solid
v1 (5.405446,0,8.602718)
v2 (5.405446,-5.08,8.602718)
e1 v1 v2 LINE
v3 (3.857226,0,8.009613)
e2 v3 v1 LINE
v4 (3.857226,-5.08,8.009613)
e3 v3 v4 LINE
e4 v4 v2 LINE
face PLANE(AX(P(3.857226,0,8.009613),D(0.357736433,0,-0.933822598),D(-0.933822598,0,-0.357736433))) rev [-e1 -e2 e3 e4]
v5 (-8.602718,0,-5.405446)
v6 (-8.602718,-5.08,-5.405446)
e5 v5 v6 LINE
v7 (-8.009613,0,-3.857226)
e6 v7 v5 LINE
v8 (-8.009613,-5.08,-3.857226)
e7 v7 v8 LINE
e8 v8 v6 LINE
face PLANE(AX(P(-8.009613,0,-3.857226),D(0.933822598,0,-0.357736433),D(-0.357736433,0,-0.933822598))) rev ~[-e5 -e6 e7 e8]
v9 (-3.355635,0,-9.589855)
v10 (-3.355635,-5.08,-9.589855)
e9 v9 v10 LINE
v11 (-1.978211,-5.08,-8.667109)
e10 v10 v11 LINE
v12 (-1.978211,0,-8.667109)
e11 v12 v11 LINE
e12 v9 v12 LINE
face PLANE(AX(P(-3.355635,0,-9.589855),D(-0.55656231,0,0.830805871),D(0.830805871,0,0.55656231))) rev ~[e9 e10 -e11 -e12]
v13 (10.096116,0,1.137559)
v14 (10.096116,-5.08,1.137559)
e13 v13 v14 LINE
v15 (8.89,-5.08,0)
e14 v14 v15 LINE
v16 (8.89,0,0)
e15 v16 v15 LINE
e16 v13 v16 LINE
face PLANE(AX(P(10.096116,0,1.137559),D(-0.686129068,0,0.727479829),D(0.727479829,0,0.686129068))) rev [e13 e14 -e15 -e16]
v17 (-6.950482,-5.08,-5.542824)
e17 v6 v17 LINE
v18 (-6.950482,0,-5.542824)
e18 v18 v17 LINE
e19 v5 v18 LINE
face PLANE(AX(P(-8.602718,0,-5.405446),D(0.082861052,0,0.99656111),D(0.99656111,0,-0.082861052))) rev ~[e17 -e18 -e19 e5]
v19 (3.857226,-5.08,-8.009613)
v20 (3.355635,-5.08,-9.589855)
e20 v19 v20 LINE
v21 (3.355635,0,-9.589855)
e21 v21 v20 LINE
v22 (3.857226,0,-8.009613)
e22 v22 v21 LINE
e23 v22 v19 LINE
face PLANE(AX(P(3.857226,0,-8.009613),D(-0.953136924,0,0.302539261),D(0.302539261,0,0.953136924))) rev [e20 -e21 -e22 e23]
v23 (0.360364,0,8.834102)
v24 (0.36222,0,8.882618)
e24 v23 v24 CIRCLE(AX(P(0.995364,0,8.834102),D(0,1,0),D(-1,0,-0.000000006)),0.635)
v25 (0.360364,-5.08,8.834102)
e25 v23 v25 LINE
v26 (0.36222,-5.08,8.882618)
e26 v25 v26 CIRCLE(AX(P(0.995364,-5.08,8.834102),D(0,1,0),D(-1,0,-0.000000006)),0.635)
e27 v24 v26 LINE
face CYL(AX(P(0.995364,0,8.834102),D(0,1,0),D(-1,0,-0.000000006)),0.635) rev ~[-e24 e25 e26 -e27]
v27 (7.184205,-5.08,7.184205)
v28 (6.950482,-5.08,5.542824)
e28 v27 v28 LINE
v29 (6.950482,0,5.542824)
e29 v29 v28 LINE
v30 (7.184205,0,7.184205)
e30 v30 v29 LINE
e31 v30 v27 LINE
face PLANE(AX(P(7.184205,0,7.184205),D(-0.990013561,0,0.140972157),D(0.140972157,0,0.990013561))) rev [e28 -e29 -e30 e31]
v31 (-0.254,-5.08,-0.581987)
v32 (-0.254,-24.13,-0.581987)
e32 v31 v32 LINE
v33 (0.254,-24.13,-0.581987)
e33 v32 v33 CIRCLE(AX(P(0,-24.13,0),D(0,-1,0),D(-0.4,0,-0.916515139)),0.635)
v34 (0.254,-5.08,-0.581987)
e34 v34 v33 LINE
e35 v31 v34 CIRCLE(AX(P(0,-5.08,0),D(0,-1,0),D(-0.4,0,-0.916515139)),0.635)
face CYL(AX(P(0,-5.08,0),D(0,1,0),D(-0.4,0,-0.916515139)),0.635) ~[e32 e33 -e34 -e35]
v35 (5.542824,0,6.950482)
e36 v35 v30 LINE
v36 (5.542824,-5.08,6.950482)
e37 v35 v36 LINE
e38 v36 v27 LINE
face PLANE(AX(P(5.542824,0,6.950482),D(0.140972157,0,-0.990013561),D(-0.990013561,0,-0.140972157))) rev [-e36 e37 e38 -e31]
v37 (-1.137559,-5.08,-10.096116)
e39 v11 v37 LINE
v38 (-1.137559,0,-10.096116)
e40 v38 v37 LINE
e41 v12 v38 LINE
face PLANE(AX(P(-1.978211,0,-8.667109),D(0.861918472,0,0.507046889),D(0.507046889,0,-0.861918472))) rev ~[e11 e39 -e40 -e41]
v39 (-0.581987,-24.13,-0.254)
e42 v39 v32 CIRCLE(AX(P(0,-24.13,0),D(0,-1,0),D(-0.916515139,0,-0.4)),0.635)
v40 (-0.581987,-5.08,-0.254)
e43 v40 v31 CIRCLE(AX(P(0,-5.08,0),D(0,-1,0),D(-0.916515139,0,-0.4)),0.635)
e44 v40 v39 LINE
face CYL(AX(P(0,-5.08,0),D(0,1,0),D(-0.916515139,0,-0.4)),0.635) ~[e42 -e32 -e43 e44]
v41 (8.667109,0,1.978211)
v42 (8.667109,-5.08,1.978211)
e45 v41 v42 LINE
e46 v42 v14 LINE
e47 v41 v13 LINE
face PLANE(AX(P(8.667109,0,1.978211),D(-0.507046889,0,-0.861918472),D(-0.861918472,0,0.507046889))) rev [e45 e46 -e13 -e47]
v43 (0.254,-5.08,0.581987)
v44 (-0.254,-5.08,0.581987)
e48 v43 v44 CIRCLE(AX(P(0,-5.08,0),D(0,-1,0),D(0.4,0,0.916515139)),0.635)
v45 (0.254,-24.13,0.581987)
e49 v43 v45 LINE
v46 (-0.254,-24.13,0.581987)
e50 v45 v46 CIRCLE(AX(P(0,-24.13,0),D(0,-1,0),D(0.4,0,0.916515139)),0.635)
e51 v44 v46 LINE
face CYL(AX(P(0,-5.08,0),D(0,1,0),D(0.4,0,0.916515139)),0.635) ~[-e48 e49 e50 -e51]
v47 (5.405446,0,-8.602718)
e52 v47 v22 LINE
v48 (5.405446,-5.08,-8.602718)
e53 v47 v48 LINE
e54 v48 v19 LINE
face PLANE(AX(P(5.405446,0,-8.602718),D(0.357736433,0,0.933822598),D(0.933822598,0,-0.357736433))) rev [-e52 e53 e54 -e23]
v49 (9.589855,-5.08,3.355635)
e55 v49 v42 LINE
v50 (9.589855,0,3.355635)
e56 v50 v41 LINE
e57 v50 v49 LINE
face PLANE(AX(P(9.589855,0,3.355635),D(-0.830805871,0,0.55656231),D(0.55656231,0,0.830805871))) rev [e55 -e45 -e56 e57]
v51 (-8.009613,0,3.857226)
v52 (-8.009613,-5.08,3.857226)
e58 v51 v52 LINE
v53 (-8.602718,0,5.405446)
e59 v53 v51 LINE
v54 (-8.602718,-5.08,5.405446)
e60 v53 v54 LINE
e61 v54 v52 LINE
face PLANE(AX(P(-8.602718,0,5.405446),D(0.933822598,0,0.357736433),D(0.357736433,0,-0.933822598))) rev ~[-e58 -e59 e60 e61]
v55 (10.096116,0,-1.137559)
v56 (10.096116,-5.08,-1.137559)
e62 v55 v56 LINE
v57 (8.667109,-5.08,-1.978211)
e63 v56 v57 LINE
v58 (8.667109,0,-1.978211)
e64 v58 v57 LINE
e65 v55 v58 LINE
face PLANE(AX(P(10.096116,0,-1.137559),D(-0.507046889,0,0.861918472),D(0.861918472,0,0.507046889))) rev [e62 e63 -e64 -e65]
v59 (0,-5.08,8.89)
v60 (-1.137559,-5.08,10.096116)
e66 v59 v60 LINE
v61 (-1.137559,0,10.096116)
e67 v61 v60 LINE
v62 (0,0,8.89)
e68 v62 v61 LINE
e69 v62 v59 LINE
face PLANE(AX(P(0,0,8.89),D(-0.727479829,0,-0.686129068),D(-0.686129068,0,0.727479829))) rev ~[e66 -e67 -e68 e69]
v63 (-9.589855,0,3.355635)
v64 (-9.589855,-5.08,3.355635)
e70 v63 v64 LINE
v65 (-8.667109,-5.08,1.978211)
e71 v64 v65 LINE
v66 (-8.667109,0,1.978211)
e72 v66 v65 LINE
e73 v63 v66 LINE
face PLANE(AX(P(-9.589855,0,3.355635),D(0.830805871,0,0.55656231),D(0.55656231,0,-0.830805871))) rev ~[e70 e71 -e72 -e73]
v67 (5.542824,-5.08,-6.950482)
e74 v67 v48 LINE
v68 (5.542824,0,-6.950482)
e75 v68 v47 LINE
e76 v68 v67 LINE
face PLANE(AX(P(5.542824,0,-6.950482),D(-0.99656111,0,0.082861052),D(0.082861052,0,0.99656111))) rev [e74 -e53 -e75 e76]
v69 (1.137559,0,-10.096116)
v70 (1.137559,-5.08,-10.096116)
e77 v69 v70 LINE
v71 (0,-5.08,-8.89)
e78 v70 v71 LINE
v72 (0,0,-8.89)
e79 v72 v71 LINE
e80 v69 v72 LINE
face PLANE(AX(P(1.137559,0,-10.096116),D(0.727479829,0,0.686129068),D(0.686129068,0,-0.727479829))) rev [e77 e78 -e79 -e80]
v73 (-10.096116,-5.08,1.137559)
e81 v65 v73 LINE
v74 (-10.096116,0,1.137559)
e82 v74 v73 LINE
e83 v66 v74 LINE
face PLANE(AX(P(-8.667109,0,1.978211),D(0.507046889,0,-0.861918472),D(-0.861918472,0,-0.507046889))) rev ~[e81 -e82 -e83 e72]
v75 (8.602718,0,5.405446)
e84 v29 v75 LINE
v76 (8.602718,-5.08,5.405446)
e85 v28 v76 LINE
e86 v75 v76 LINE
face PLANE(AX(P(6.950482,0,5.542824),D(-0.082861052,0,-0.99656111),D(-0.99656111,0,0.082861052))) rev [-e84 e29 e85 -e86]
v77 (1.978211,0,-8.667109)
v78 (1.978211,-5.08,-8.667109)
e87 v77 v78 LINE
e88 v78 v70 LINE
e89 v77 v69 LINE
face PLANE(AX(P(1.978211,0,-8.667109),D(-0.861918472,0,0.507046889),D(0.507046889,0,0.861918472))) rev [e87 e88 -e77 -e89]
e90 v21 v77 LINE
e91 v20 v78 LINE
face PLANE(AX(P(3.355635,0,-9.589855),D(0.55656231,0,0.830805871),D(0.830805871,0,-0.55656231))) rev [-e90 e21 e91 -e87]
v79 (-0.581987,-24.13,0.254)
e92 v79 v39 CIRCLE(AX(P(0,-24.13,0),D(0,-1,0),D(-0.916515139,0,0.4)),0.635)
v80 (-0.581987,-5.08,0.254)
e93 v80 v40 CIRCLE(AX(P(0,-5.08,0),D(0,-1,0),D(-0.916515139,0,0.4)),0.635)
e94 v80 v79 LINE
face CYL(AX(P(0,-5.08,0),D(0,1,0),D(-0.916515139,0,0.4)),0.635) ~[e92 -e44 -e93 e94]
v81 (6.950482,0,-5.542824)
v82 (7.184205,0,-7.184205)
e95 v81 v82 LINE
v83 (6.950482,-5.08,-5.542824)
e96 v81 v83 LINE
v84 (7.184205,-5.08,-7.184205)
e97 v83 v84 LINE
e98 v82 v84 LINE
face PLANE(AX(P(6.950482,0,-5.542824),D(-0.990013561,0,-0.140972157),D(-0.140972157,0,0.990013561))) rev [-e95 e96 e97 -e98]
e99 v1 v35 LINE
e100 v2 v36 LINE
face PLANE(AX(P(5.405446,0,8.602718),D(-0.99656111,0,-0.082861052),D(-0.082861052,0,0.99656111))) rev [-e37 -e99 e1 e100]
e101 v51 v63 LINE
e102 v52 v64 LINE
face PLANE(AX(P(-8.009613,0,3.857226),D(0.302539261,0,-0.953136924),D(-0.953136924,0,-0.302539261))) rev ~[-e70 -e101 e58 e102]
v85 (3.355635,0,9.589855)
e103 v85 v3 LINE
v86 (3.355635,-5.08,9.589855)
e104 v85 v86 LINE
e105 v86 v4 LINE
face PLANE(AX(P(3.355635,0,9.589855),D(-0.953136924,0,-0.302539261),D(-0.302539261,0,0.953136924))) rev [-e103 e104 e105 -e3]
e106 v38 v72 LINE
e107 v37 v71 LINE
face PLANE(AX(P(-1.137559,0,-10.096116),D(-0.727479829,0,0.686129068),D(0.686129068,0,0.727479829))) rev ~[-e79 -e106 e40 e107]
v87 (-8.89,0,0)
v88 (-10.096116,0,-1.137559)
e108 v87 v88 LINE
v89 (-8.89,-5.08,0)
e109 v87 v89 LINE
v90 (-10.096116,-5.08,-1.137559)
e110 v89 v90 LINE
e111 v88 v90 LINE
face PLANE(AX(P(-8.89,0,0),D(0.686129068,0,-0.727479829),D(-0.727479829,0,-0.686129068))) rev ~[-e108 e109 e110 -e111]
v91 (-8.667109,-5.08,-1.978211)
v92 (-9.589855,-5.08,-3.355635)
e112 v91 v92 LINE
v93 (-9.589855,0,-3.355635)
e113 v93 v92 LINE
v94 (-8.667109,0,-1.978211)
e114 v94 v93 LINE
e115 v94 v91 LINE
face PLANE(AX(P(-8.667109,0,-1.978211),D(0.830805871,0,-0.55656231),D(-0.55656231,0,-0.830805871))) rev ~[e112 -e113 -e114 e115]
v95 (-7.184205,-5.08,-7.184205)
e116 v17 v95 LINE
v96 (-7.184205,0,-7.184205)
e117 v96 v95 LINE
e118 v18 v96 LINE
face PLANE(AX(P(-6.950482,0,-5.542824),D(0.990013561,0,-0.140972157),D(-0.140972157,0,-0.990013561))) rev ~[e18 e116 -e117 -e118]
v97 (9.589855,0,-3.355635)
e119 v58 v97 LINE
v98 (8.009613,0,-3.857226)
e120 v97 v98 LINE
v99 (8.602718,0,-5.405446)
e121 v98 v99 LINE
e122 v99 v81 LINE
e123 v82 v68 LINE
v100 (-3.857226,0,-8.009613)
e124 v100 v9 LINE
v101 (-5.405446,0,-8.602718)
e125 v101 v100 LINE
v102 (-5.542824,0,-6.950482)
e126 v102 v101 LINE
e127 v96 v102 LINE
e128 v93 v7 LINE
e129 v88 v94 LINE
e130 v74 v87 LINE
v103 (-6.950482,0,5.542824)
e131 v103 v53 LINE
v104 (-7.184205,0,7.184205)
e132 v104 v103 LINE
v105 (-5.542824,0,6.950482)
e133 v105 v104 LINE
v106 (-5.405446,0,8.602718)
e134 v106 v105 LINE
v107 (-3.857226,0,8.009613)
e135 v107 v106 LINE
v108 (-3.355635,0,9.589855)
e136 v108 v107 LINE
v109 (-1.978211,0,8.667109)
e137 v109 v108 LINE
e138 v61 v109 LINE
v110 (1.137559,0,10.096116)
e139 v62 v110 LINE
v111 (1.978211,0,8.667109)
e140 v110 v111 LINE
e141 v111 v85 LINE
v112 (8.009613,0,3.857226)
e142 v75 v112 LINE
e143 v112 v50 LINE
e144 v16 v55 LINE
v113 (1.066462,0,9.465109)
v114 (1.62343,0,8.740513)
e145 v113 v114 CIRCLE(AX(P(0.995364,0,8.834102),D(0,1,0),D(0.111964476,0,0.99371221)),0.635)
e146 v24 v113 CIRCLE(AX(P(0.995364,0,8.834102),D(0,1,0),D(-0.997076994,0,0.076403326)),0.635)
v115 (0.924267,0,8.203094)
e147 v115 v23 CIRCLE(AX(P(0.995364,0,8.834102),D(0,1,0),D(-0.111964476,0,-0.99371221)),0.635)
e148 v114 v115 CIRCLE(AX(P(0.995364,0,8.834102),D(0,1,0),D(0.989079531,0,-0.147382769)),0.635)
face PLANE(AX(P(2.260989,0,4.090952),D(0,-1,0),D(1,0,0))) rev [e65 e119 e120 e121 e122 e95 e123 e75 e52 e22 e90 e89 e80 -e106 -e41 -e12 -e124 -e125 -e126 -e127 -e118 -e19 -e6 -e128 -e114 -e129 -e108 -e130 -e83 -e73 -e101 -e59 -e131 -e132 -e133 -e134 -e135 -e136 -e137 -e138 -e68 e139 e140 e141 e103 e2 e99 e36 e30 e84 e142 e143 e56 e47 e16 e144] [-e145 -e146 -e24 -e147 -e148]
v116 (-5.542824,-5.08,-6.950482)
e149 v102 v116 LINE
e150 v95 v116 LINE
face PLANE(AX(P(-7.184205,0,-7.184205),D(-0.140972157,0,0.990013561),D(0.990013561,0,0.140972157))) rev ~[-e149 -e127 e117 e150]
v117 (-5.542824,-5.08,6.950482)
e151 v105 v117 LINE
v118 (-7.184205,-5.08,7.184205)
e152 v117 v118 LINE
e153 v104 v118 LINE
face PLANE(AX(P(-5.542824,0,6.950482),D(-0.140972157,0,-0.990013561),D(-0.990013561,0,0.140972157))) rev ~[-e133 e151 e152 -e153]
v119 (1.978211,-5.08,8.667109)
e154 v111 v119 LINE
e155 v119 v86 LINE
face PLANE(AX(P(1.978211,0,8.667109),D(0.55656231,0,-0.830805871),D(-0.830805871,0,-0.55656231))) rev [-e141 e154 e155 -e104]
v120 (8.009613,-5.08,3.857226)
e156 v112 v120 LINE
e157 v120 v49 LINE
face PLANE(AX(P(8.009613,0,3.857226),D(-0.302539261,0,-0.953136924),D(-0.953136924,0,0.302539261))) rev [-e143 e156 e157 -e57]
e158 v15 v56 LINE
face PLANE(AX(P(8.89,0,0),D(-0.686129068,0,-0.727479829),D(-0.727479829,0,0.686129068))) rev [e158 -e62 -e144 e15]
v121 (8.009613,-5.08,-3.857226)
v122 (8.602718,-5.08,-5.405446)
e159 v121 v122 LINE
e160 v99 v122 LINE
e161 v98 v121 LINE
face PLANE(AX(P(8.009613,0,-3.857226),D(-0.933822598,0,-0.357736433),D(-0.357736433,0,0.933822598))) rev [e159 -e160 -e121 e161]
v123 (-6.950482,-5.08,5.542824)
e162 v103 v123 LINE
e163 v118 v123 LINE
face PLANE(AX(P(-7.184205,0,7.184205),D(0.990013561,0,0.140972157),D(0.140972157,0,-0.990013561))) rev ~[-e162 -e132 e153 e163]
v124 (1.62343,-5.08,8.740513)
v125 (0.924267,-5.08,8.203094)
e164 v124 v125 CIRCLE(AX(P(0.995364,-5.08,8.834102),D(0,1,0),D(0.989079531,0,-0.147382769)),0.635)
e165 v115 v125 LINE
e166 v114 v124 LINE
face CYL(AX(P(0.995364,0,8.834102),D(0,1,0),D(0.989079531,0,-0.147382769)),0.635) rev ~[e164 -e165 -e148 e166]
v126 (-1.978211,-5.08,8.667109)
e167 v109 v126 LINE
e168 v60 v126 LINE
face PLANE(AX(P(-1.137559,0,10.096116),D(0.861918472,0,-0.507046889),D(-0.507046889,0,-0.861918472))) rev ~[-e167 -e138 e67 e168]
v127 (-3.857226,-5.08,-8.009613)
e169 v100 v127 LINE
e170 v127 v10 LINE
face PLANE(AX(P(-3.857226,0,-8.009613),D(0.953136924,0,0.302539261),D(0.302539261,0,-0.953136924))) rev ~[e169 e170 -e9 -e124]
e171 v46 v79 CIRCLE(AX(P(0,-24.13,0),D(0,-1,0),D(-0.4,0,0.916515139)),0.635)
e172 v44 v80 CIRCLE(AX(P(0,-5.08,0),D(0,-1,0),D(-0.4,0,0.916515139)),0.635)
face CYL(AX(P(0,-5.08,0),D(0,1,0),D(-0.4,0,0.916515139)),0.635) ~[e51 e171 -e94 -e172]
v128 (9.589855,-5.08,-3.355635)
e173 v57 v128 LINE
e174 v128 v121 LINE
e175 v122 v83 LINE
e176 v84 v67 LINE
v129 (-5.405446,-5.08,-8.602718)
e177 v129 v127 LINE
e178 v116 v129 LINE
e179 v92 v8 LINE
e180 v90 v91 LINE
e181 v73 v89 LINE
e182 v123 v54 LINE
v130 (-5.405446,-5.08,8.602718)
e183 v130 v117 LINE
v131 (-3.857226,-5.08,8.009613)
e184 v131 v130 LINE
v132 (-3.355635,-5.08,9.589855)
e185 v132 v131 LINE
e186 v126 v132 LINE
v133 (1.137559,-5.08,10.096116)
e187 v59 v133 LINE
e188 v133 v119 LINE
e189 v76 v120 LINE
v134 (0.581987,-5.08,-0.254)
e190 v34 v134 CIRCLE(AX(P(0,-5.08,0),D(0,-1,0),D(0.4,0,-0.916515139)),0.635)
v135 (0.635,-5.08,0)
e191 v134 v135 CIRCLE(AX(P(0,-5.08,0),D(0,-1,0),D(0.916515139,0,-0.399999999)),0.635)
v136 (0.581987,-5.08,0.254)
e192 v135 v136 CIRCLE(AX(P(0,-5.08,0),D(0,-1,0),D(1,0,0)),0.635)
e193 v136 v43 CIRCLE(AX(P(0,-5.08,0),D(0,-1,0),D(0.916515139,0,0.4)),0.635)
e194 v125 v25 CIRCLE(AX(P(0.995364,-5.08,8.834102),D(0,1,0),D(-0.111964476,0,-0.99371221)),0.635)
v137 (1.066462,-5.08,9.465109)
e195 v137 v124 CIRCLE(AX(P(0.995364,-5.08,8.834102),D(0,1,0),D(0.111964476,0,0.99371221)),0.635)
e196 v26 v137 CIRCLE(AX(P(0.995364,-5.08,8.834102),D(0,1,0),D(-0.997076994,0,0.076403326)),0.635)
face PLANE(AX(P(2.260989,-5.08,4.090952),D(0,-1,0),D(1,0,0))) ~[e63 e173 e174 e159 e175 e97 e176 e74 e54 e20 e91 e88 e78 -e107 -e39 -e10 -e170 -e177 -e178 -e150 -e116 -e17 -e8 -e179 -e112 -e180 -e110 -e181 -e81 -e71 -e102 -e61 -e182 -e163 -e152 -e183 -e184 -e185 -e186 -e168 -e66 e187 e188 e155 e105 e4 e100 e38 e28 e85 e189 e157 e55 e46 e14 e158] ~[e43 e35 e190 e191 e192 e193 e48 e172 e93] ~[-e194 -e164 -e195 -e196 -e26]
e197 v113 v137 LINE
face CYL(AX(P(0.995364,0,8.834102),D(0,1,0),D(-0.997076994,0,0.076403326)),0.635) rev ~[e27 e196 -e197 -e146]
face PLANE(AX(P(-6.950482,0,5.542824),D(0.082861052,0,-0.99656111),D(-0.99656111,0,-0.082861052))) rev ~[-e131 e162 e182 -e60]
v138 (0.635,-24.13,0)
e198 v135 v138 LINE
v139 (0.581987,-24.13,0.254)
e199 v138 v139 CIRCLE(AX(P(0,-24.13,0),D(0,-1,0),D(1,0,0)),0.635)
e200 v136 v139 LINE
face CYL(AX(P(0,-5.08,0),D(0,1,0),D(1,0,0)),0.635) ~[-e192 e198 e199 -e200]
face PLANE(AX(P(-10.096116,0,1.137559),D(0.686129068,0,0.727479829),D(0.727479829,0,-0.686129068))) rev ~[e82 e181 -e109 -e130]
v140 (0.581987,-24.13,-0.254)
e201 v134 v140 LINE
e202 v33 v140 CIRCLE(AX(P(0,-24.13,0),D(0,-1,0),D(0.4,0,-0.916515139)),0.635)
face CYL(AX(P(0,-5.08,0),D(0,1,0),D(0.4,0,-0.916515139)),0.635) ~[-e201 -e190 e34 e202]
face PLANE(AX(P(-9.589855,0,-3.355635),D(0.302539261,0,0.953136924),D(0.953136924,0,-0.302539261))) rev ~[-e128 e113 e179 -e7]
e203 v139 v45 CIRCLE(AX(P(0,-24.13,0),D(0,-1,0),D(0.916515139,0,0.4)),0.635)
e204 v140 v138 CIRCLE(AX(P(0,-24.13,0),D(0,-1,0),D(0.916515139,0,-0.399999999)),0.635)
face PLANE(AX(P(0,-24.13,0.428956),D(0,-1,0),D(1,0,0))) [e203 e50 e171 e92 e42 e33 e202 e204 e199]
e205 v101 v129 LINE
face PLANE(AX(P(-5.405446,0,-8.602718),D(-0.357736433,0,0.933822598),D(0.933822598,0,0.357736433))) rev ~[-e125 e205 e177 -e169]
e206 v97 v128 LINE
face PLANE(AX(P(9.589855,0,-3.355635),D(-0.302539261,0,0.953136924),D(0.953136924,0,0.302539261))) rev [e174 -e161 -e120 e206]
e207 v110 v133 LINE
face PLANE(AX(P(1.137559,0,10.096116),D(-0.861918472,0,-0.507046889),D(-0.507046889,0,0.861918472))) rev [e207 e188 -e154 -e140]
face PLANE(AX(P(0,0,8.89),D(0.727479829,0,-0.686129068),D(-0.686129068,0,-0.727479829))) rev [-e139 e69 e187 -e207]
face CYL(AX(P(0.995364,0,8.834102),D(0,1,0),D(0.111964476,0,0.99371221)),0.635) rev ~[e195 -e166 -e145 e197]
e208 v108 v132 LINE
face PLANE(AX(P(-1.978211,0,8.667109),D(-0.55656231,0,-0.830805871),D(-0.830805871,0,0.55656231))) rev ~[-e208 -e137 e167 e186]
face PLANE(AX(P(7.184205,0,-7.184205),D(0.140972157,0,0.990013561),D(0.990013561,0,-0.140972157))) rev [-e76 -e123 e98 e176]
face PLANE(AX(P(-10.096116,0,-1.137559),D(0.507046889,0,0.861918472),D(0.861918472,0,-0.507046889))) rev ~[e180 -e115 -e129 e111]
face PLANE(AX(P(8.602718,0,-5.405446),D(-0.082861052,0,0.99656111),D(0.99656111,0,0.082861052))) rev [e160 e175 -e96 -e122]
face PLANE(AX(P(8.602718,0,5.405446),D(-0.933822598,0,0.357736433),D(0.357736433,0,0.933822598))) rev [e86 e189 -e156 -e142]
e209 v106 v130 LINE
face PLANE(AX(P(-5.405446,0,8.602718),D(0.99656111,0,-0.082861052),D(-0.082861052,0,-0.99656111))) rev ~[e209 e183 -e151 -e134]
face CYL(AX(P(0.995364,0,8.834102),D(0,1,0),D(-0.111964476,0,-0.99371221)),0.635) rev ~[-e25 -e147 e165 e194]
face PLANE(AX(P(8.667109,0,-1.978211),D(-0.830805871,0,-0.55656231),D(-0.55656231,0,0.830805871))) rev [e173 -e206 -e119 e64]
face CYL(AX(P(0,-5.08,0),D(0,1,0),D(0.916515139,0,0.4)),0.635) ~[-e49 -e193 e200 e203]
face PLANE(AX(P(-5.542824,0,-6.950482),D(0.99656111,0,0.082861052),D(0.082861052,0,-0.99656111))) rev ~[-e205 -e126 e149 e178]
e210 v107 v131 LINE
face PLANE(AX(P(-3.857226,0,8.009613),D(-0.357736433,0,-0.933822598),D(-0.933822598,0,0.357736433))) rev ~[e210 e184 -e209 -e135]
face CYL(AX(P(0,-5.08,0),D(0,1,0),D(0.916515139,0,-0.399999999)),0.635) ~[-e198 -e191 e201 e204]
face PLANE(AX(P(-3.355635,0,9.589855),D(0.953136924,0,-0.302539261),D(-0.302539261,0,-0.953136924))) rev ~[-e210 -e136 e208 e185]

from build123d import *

# Parameters (mm, degrees)
F1_DEPTH = 5.08
F3_W     = 0.508
F3_H     = 0.508
F4_DEPTH = 19.05
F6_DEPTH = 25.4


with BuildPart() as f1:
    # F0 (on Front) → F1 (new body)
    with BuildSketch(Plane.XZ):
        with BuildLine():
            Line((-4.7297651602, 7.5273781311), (0, 0))
            Line((0, 0), (-3.8572264408, 8.0096132357))
            ThreePointArc((-3.8572264408, 8.0096132357), (-4.3002609064, 7.7807362208), (-4.7297651602, 7.5273781311))
        make_face()
        with BuildLine():
            Line((-5.5428243385, 6.9504818791), (0, 0))
            Line((0, 0), (-4.7297651602, 7.5273781311))
            ThreePointArc((-4.7297651602, 7.5273781311), (-5.144387823, 7.250336125), (-5.5428243385, 6.9504818791))
        make_face()
        with BuildLine():
            Line((-5.4054458974, 8.6027178642), (-5.5428243385, 6.9504818791))
            ThreePointArc((-5.5428243385, 6.9504818791), (-5.144387823, 7.250336125), (-4.7297651602, 7.5273781311))
            Line((-4.7297651602, 7.5273781311), (-5.4054458974, 8.6027178642))
        make_face()
        with BuildLine():
            Line((-5.4054458974, 8.6027178642), (-4.7297651602, 7.5273781311))
            ThreePointArc((-4.7297651602, 7.5273781311), (-4.3002609064, 7.7807362208), (-3.8572264408, 8.0096132357))
            Line((-3.8572264408, 8.0096132357), (-5.4054458974, 8.6027178642))
        make_face()
        with BuildLine():
            Line((-3.3556352695, 9.5898546359), (-3.8572264408, 8.0096132357))
            ThreePointArc((-3.8572264408, 8.0096132357), (-3.4020557137, 8.213289044), (-2.9361808608, 8.3911228064))
            Line((-2.9361808608, 8.3911228064), (-3.3556352695, 9.5898546359))
        make_face()
        with BuildLine():
            Line((-3.3556352695, 9.5898546359), (-2.9361808608, 8.3911228064))
            ThreePointArc((-2.9361808608, 8.3911228064), (-2.4610676966, 8.5425549921), (-1.9782111029, 8.6671091393))
            Line((-1.9782111029, 8.6671091393), (-3.3556352695, 9.5898546359))
        make_face()
        with BuildLine():
            Line((-2.9361808608, 8.3911228064), (0, 0))
            Line((0, 0), (-1.9782111029, 8.6671091393))
            ThreePointArc((-1.9782111029, 8.6671091393), (-2.4610676966, 8.5425549921), (-2.9361808608, 8.3911228064))
        make_face()
        with BuildLine():
            Line((-3.8572264408, 8.0096132357), (0, 0))
            Line((0, 0), (-2.9361808608, 8.3911228064))
            ThreePointArc((-2.9361808608, 8.3911228064), (-3.4020557137, 8.213289044), (-3.8572264408, 8.0096132357))
        make_face()
        with BuildLine():
            Line((-0.9953641926, 8.834101546), (0, 0))
            Line((0, 0), (0, 8.89))
            ThreePointArc((0, 8.89), (-0.4984662759, 8.8760143855), (-0.9953641926, 8.834101546))
        make_face()
        with BuildLine():
            ThreePointArc((-0.9953641926, 8.834101546), (-0.4984662759, 8.8760143855), (0, 8.89))
            Line((0, 8.89), (-1.1375590772, 10.0961160525))
            Line((-1.1375590772, 10.0961160525), (-0.9953641926, 8.834101546))
        make_face()
        with BuildLine():
            Line((-1.1375590772, 10.0961160525), (-1.9782111029, 8.6671091393))
            ThreePointArc((-1.9782111029, 8.6671091393), (-1.4891303252, 8.7643933546), (-0.9953641926, 8.834101546))
            Line((-0.9953641926, 8.834101546), (-1.1375590772, 10.0961160525))
        make_face()
        with BuildLine():
            Line((-1.9782111029, 8.6671091393), (0, 0))
            Line((0, 0), (-0.9953641926, 8.834101546))
            ThreePointArc((-0.9953641926, 8.834101546), (-1.4891303252, 8.7643933546), (-1.9782111029, 8.6671091393))
        make_face()
        with BuildLine():
            Line((-6.2861792847, 6.2861792847), (0, 0))
            Line((0, 0), (-5.5428243385, 6.9504818791))
            ThreePointArc((-5.5428243385, 6.9504818791), (-5.923821078, 6.6287588458), (-6.2861792847, 6.2861792847))
        make_face()
        with BuildLine():
            Line((-7.1842048969, 7.1842048969), (-6.2861792847, 6.2861792847))
            ThreePointArc((-6.2861792847, 6.2861792847), (-5.923821078, 6.6287588458), (-5.5428243385, 6.9504818791))
            Line((-5.5428243385, 6.9504818791), (-7.1842048969, 7.1842048969))
        make_face()
        with BuildLine():
            Line((-6.9504818791, 5.5428243385), (0, 0))
            Line((0, 0), (-6.2861792847, 6.2861792847))
            ThreePointArc((-6.2861792847, 6.2861792847), (-6.6287588458, 5.923821078), (-6.9504818791, 5.5428243385))
        make_face()
        with BuildLine():
            Line((-7.1842048969, 7.1842048969), (-6.9504818791, 5.5428243385))
            ThreePointArc((-6.9504818791, 5.5428243385), (-6.6287588458, 5.923821078), (-6.2861792847, 6.2861792847))
            Line((-6.2861792847, 6.2861792847), (-7.1842048969, 7.1842048969))
        make_face()
        with BuildLine():
            Line((-7.5273781311, 4.7297651602), (0, 0))
            Line((0, 0), (-6.9504818791, 5.5428243385))
            ThreePointArc((-6.9504818791, 5.5428243385), (-7.250336125, 5.144387823), (-7.5273781311, 4.7297651602))
        make_face()
        with BuildLine():
            Line((-8.6027178642, 5.4054458974), (-7.5273781311, 4.7297651602))
            ThreePointArc((-7.5273781311, 4.7297651602), (-7.250336125, 5.144387823), (-6.9504818791, 5.5428243385))
            Line((-6.9504818791, 5.5428243385), (-8.6027178642, 5.4054458974))
        make_face()
        with BuildLine():
            Line((-8.6027178642, 5.4054458974), (-8.0096132357, 3.8572264408))
            ThreePointArc((-8.0096132357, 3.8572264408), (-7.7807362208, 4.3002609064), (-7.5273781311, 4.7297651602))
            Line((-7.5273781311, 4.7297651602), (-8.6027178642, 5.4054458974))
        make_face()
        with BuildLine():
            Line((-8.0096132357, 3.8572264408), (0, 0))
            Line((0, 0), (-7.5273781311, 4.7297651602))
            ThreePointArc((-7.5273781311, 4.7297651602), (-7.7807362208, 4.3002609064), (-8.0096132357, 3.8572264408))
        make_face()
        with BuildLine():
            Line((-8.3911228064, 2.9361808608), (0, 0))
            Line((0, 0), (-8.0096132357, 3.8572264408))
            ThreePointArc((-8.0096132357, 3.8572264408), (-8.213289044, 3.4020557137), (-8.3911228064, 2.9361808608))
        make_face()
        with BuildLine():
            Line((-9.5898546359, 3.3556352695), (-8.3911228064, 2.9361808608))
            ThreePointArc((-8.3911228064, 2.9361808608), (-8.213289044, 3.4020557137), (-8.0096132357, 3.8572264408))
            Line((-8.0096132357, 3.8572264408), (-9.5898546359, 3.3556352695))
        make_face()
        with BuildLine():
            Line((-9.5898546359, 3.3556352695), (-8.6671091393, 1.9782111029))
            ThreePointArc((-8.6671091393, 1.9782111029), (-8.5425549921, 2.4610676966), (-8.3911228064, 2.9361808608))
            Line((-8.3911228064, 2.9361808608), (-9.5898546359, 3.3556352695))
        make_face()
        with BuildLine():
            Line((-8.6671091393, 1.9782111029), (0, 0))
            Line((0, 0), (-8.3911228064, 2.9361808608))
            ThreePointArc((-8.3911228064, 2.9361808608), (-8.5425549921, 2.4610676966), (-8.6671091393, 1.9782111029))
        make_face()
        with BuildLine():
            Line((-8.834101546, 0.9953641926), (0, 0))
            Line((0, 0), (-8.6671091393, 1.9782111029))
            ThreePointArc((-8.6671091393, 1.9782111029), (-8.7643933546, 1.4891303252), (-8.834101546, 0.9953641926))
        make_face()
        with BuildLine():
            Line((-10.0961160525, 1.1375590772), (-8.834101546, 0.9953641926))
            ThreePointArc((-8.834101546, 0.9953641926), (-8.7643933546, 1.4891303252), (-8.6671091393, 1.9782111029))
            Line((-8.6671091393, 1.9782111029), (-10.0961160525, 1.1375590772))
        make_face()
        with BuildLine():
            Line((-10.0961160525, 1.1375590772), (-8.89, 0))
            ThreePointArc((-8.89, 0), (-8.8760143855, 0.4984662759), (-8.834101546, 0.9953641926))
            Line((-8.834101546, 0.9953641926), (-10.0961160525, 1.1375590772))
        make_face()
        with BuildLine():
            Line((-8.89, 0), (0, 0))
            Line((0, 0), (-8.834101546, 0.9953641926))
            ThreePointArc((-8.834101546, 0.9953641926), (-8.8760143855, 0.4984662759), (-8.89, 0))
        make_face()
        with BuildLine():
            Line((-8.834101546, -0.9953641926), (0, 0))
            Line((0, 0), (-8.89, 0))
            ThreePointArc((-8.89, 0), (-8.8760143855, -0.4984662759), (-8.834101546, -0.9953641926))
        make_face()
        with BuildLine():
            Line((-10.0961160525, -1.1375590772), (-8.834101546, -0.9953641926))
            ThreePointArc((-8.834101546, -0.9953641926), (-8.8760143855, -0.4984662759), (-8.89, 0))
            Line((-8.89, 0), (-10.0961160525, -1.1375590772))
        make_face()
        with BuildLine():
            Line((-10.0961160525, -1.1375590772), (-8.6671091393, -1.9782111029))
            ThreePointArc((-8.6671091393, -1.9782111029), (-8.7643933546, -1.4891303252), (-8.834101546, -0.9953641926))
            Line((-8.834101546, -0.9953641926), (-10.0961160525, -1.1375590772))
        make_face()
        with BuildLine():
            Line((-8.6671091393, -1.9782111029), (0, 0))
            Line((0, 0), (-8.834101546, -0.9953641926))
            ThreePointArc((-8.834101546, -0.9953641926), (-8.7643933546, -1.4891303252), (-8.6671091393, -1.9782111029))
        make_face()
        with BuildLine():
            Line((-8.3911228064, -2.9361808608), (0, 0))
            Line((0, 0), (-8.6671091393, -1.9782111029))
            ThreePointArc((-8.6671091393, -1.9782111029), (-8.5425549921, -2.4610676966), (-8.3911228064, -2.9361808608))
        make_face()
        with BuildLine():
            Line((-9.5898546359, -3.3556352695), (-8.3911228064, -2.9361808608))
            ThreePointArc((-8.3911228064, -2.9361808608), (-8.5425549921, -2.4610676966), (-8.6671091393, -1.9782111029))
            Line((-8.6671091393, -1.9782111029), (-9.5898546359, -3.3556352695))
        make_face()
        with BuildLine():
            Line((-9.5898546359, -3.3556352695), (-8.0096132357, -3.8572264408))
            ThreePointArc((-8.0096132357, -3.8572264408), (-8.213289044, -3.4020557137), (-8.3911228064, -2.9361808608))
            Line((-8.3911228064, -2.9361808608), (-9.5898546359, -3.3556352695))
        make_face()
        with BuildLine():
            Line((-8.0096132357, -3.8572264408), (0, 0))
            Line((0, 0), (-8.3911228064, -2.9361808608))
            ThreePointArc((-8.3911228064, -2.9361808608), (-8.213289044, -3.4020557137), (-8.0096132357, -3.8572264408))
        make_face()
        with BuildLine():
            Line((-7.5273781311, -4.7297651602), (0, 0))
            Line((0, 0), (-8.0096132357, -3.8572264408))
            ThreePointArc((-8.0096132357, -3.8572264408), (-7.7807362208, -4.3002609064), (-7.5273781311, -4.7297651602))
        make_face()
        with BuildLine():
            Line((-8.6027178642, -5.4054458974), (-7.5273781311, -4.7297651602))
            ThreePointArc((-7.5273781311, -4.7297651602), (-7.7807362208, -4.3002609064), (-8.0096132357, -3.8572264408))
            Line((-8.0096132357, -3.8572264408), (-8.6027178642, -5.4054458974))
        make_face()
        with BuildLine():
            Line((-8.6027178642, -5.4054458974), (-6.9504818791, -5.5428243385))
            ThreePointArc((-6.9504818791, -5.5428243385), (-7.250336125, -5.144387823), (-7.5273781311, -4.7297651602))
            Line((-7.5273781311, -4.7297651602), (-8.6027178642, -5.4054458974))
        make_face()
        with BuildLine():
            Line((-6.9504818791, -5.5428243385), (0, 0))
            Line((0, 0), (-7.5273781311, -4.7297651602))
            ThreePointArc((-7.5273781311, -4.7297651602), (-7.250336125, -5.144387823), (-6.9504818791, -5.5428243385))
        make_face()
        with BuildLine():
            Line((-6.2861792847, -6.2861792847), (0, 0))
            Line((0, 0), (-6.9504818791, -5.5428243385))
            ThreePointArc((-6.9504818791, -5.5428243385), (-6.6287588458, -5.923821078), (-6.2861792847, -6.2861792847))
        make_face()
        with BuildLine():
            Line((-5.5428243385, -6.9504818791), (0, 0))
            Line((0, 0), (-6.2861792847, -6.2861792847))
            ThreePointArc((-6.2861792847, -6.2861792847), (-5.923821078, -6.6287588458), (-5.5428243385, -6.9504818791))
        make_face()
        with BuildLine():
            Line((-4.7297651602, -7.5273781311), (0, 0))
            Line((0, 0), (-5.5428243385, -6.9504818791))
            ThreePointArc((-5.5428243385, -6.9504818791), (-5.144387823, -7.250336125), (-4.7297651602, -7.5273781311))
        make_face()
        with BuildLine():
            Line((-7.1842048969, -7.1842048969), (-6.2861792847, -6.2861792847))
            ThreePointArc((-6.2861792847, -6.2861792847), (-6.6287588458, -5.923821078), (-6.9504818791, -5.5428243385))
            Line((-6.9504818791, -5.5428243385), (-7.1842048969, -7.1842048969))
        make_face()
        with BuildLine():
            Line((-7.1842048969, -7.1842048969), (-5.5428243385, -6.9504818791))
            ThreePointArc((-5.5428243385, -6.9504818791), (-5.923821078, -6.6287588458), (-6.2861792847, -6.2861792847))
            Line((-6.2861792847, -6.2861792847), (-7.1842048969, -7.1842048969))
        make_face()
        with BuildLine():
            Line((-5.4054458974, -8.6027178642), (-4.7297651602, -7.5273781311))
            ThreePointArc((-4.7297651602, -7.5273781311), (-5.144387823, -7.250336125), (-5.5428243385, -6.9504818791))
            Line((-5.5428243385, -6.9504818791), (-5.4054458974, -8.6027178642))
        make_face()
        with BuildLine():
            Line((-5.4054458974, -8.6027178642), (-3.8572264408, -8.0096132357))
            ThreePointArc((-3.8572264408, -8.0096132357), (-4.3002609064, -7.7807362208), (-4.7297651602, -7.5273781311))
            Line((-4.7297651602, -7.5273781311), (-5.4054458974, -8.6027178642))
        make_face()
        with BuildLine():
            Line((-2.9361808608, -8.3911228064), (0, 0))
            Line((0, 0), (-3.8572264408, -8.0096132357))
            ThreePointArc((-3.8572264408, -8.0096132357), (-3.4020557137, -8.213289044), (-2.9361808608, -8.3911228064))
        make_face()
        with BuildLine():
            Line((-3.3556352695, -9.5898546359), (-2.9361808608, -8.3911228064))
            ThreePointArc((-2.9361808608, -8.3911228064), (-3.4020557137, -8.213289044), (-3.8572264408, -8.0096132357))
            Line((-3.8572264408, -8.0096132357), (-3.3556352695, -9.5898546359))
        make_face()
        with BuildLine():
            Line((-3.3556352695, -9.5898546359), (-1.9782111029, -8.6671091393))
            ThreePointArc((-1.9782111029, -8.6671091393), (-2.4610676966, -8.5425549921), (-2.9361808608, -8.3911228064))
            Line((-2.9361808608, -8.3911228064), (-3.3556352695, -9.5898546359))
        make_face()
        with BuildLine():
            Line((-1.9782111029, -8.6671091393), (0, 0))
            Line((0, 0), (-2.9361808608, -8.3911228064))
            ThreePointArc((-2.9361808608, -8.3911228064), (-2.4610676966, -8.5425549921), (-1.9782111029, -8.6671091393))
        make_face()
        with BuildLine():
            Line((-0.9953641926, -8.834101546), (0, 0))
            Line((0, 0), (-1.9782111029, -8.6671091393))
            ThreePointArc((-1.9782111029, -8.6671091393), (-1.4891303252, -8.7643933546), (-0.9953641926, -8.834101546))
        make_face()
        with BuildLine():
            Line((-1.1375590772, -10.0961160525), (0, -8.89))
            ThreePointArc((0, -8.89), (-0.4984662759, -8.8760143855), (-0.9953641926, -8.834101546))
            Line((-0.9953641926, -8.834101546), (-1.1375590772, -10.0961160525))
        make_face()
        with BuildLine():
            ThreePointArc((-0.9953641926, -8.834101546), (-1.4891303252, -8.7643933546), (-1.9782111029, -8.6671091393))
            Line((-1.9782111029, -8.6671091393), (-1.1375590772, -10.0961160525))
            Line((-1.1375590772, -10.0961160525), (-0.9953641926, -8.834101546))
        make_face()
        with BuildLine():
            Line((0, -8.89), (0, 0))
            Line((0, 0), (-0.9953641926, -8.834101546))
            ThreePointArc((-0.9953641926, -8.834101546), (-0.4984662759, -8.8760143855), (0, -8.89))
        make_face()
        with BuildLine():
            Line((-3.8572264408, -8.0096132357), (0, 0))
            Line((0, 0), (-4.7297651602, -7.5273781311))
            ThreePointArc((-4.7297651602, -7.5273781311), (-4.3002609064, -7.7807362208), (-3.8572264408, -8.0096132357))
        make_face()
    extrude(amount=F1_DEPTH)

    # F2: F1 across plane


with BuildPart() as f1_1:
    add(f1.part)
    add(f1.part.mirror(Plane.YZ))

    # F3 (on face) → F4 (join)
    with BuildSketch(Plane.XZ.offset(5.08)):
        with BuildLine():
            Line((0.254, 0.254), (0.254, 0.5819871133))
            ThreePointArc((0.254, 0.5819871133), (0, 0.635), (-0.254, 0.5819871133))
            Line((-0.254, 0.5819871133), (-0.254, 0.254))
            Line((-0.254, 0.254), (0.254, 0.254))
        make_face()
        with BuildLine():
            Line((-0.254, -0.254), (-0.254, 0.254))
            Line((-0.254, 0.254), (-0.5819871133, 0.254))
            ThreePointArc((-0.5819871133, 0.254), (-0.635, 0), (-0.5819871133, -0.254))
            Line((-0.5819871133, -0.254), (-0.254, -0.254))
        make_face()
        Rectangle(F3_W, F3_H)
        with BuildLine():
            ThreePointArc((0.5819871133, -0.254), (0.6216055087, -0.1297366237), (0.635, 0))
            ThreePointArc((0.635, 0), (0.6216055087, 0.1297366237), (0.5819871133, 0.254))
            Line((0.5819871133, 0.254), (0.254, 0.254))
            Line((0.254, 0.254), (0.254, -0.254))
            Line((0.254, -0.254), (0.5819871133, -0.254))
        make_face()
        with BuildLine():
            ThreePointArc((-0.254, -0.5819871133), (0, -0.635), (0.254, -0.5819871133))
            Line((0.254, -0.5819871133), (0.254, -0.254))
            Line((0.254, -0.254), (-0.254, -0.254))
            Line((-0.254, -0.254), (-0.254, -0.5819871133))
        make_face()
        with BuildLine():
            Line((0.254, 0.254), (0.5819871133, 0.254))
            ThreePointArc((0.5819871133, 0.254), (0.4490128061, 0.4490128061), (0.254, 0.5819871133))
            Line((0.254, 0.5819871133), (0.254, 0.254))
        make_face()
        with BuildLine():
            Line((-0.254, 0.254), (-0.254, 0.5819871133))
            ThreePointArc((-0.254, 0.5819871133), (-0.4490128061, 0.4490128061), (-0.5819871133, 0.254))
            Line((-0.5819871133, 0.254), (-0.254, 0.254))
        make_face()
        with BuildLine():
            ThreePointArc((-0.5819871133, -0.254), (-0.4490128061, -0.4490128061), (-0.254, -0.5819871133))
            Line((-0.254, -0.5819871133), (-0.254, -0.254))
            Line((-0.254, -0.254), (-0.5819871133, -0.254))
        make_face()
        with BuildLine():
            ThreePointArc((0.254, -0.5819871133), (0.4490128061, -0.4490128061), (0.5819871133, -0.254))
            Line((0.5819871133, -0.254), (0.254, -0.254))
            Line((0.254, -0.254), (0.254, -0.5819871133))
        make_face()
    extrude(amount=F4_DEPTH)

    # F5 (on face) → F6 (cut)
    with BuildSketch(Plane(origin=(0, 0, 0), x_dir=(-1, 0, 0), z_dir=(0, 1, 0))):
        with BuildLine():
            ThreePointArc((-1.623429695, 8.7405134875), (-1.3102328181, 8.7929170338), (-0.9953641926, 8.834101546))
            Line((-0.9953641926, 8.834101546), (-1.0664616349, 9.4651087992))
            ThreePointArc((-1.0664616349, 9.4651087992), (-1.4988190538, 9.2210875957), (-1.623429695, 8.7405134875))
        make_face()
        with BuildLine():
            ThreePointArc((-0.9953641926, 8.834101546), (-0.6792255648, 8.8640144761), (-0.3622203014, 8.8826176577))
            ThreePointArc((-0.3622203014, 8.8826176577), (-0.5906444931, 9.3234142934), (-1.0664616349, 9.4651087992))
            Line((-1.0664616349, 9.4651087992), (-0.9953641926, 8.834101546))
        make_face()
        with BuildLine():
            ThreePointArc((-0.3603641926, 8.834101546), (-0.3608283894, 8.8583773479), (-0.3622203014, 8.8826176577))
            ThreePointArc((-0.3622203014, 8.8826176577), (-0.6792255648, 8.8640144761), (-0.9953641926, 8.834101546))
            Line((-0.9953641926, 8.834101546), (-0.9242667502, 8.2030942927))
            ThreePointArc((-0.9242667502, 8.2030942927), (-0.5218814179, 8.410971469), (-0.3603641926, 8.834101546))
        make_face()
        with BuildLine():
            Line((-0.9242667502, 8.2030942927), (-0.9953641926, 8.834101546))
            ThreePointArc((-0.9953641926, 8.834101546), (-1.3102328181, 8.7929170338), (-1.623429695, 8.7405134875))
            ThreePointArc((-1.623429695, 8.7405134875), (-1.3823502424, 8.3306466848), (-0.9242667502, 8.2030942927))
        make_face()
    extrude(amount=-F6_DEPTH, mode=Mode.SUBTRACT)


solid = f1_1.part
